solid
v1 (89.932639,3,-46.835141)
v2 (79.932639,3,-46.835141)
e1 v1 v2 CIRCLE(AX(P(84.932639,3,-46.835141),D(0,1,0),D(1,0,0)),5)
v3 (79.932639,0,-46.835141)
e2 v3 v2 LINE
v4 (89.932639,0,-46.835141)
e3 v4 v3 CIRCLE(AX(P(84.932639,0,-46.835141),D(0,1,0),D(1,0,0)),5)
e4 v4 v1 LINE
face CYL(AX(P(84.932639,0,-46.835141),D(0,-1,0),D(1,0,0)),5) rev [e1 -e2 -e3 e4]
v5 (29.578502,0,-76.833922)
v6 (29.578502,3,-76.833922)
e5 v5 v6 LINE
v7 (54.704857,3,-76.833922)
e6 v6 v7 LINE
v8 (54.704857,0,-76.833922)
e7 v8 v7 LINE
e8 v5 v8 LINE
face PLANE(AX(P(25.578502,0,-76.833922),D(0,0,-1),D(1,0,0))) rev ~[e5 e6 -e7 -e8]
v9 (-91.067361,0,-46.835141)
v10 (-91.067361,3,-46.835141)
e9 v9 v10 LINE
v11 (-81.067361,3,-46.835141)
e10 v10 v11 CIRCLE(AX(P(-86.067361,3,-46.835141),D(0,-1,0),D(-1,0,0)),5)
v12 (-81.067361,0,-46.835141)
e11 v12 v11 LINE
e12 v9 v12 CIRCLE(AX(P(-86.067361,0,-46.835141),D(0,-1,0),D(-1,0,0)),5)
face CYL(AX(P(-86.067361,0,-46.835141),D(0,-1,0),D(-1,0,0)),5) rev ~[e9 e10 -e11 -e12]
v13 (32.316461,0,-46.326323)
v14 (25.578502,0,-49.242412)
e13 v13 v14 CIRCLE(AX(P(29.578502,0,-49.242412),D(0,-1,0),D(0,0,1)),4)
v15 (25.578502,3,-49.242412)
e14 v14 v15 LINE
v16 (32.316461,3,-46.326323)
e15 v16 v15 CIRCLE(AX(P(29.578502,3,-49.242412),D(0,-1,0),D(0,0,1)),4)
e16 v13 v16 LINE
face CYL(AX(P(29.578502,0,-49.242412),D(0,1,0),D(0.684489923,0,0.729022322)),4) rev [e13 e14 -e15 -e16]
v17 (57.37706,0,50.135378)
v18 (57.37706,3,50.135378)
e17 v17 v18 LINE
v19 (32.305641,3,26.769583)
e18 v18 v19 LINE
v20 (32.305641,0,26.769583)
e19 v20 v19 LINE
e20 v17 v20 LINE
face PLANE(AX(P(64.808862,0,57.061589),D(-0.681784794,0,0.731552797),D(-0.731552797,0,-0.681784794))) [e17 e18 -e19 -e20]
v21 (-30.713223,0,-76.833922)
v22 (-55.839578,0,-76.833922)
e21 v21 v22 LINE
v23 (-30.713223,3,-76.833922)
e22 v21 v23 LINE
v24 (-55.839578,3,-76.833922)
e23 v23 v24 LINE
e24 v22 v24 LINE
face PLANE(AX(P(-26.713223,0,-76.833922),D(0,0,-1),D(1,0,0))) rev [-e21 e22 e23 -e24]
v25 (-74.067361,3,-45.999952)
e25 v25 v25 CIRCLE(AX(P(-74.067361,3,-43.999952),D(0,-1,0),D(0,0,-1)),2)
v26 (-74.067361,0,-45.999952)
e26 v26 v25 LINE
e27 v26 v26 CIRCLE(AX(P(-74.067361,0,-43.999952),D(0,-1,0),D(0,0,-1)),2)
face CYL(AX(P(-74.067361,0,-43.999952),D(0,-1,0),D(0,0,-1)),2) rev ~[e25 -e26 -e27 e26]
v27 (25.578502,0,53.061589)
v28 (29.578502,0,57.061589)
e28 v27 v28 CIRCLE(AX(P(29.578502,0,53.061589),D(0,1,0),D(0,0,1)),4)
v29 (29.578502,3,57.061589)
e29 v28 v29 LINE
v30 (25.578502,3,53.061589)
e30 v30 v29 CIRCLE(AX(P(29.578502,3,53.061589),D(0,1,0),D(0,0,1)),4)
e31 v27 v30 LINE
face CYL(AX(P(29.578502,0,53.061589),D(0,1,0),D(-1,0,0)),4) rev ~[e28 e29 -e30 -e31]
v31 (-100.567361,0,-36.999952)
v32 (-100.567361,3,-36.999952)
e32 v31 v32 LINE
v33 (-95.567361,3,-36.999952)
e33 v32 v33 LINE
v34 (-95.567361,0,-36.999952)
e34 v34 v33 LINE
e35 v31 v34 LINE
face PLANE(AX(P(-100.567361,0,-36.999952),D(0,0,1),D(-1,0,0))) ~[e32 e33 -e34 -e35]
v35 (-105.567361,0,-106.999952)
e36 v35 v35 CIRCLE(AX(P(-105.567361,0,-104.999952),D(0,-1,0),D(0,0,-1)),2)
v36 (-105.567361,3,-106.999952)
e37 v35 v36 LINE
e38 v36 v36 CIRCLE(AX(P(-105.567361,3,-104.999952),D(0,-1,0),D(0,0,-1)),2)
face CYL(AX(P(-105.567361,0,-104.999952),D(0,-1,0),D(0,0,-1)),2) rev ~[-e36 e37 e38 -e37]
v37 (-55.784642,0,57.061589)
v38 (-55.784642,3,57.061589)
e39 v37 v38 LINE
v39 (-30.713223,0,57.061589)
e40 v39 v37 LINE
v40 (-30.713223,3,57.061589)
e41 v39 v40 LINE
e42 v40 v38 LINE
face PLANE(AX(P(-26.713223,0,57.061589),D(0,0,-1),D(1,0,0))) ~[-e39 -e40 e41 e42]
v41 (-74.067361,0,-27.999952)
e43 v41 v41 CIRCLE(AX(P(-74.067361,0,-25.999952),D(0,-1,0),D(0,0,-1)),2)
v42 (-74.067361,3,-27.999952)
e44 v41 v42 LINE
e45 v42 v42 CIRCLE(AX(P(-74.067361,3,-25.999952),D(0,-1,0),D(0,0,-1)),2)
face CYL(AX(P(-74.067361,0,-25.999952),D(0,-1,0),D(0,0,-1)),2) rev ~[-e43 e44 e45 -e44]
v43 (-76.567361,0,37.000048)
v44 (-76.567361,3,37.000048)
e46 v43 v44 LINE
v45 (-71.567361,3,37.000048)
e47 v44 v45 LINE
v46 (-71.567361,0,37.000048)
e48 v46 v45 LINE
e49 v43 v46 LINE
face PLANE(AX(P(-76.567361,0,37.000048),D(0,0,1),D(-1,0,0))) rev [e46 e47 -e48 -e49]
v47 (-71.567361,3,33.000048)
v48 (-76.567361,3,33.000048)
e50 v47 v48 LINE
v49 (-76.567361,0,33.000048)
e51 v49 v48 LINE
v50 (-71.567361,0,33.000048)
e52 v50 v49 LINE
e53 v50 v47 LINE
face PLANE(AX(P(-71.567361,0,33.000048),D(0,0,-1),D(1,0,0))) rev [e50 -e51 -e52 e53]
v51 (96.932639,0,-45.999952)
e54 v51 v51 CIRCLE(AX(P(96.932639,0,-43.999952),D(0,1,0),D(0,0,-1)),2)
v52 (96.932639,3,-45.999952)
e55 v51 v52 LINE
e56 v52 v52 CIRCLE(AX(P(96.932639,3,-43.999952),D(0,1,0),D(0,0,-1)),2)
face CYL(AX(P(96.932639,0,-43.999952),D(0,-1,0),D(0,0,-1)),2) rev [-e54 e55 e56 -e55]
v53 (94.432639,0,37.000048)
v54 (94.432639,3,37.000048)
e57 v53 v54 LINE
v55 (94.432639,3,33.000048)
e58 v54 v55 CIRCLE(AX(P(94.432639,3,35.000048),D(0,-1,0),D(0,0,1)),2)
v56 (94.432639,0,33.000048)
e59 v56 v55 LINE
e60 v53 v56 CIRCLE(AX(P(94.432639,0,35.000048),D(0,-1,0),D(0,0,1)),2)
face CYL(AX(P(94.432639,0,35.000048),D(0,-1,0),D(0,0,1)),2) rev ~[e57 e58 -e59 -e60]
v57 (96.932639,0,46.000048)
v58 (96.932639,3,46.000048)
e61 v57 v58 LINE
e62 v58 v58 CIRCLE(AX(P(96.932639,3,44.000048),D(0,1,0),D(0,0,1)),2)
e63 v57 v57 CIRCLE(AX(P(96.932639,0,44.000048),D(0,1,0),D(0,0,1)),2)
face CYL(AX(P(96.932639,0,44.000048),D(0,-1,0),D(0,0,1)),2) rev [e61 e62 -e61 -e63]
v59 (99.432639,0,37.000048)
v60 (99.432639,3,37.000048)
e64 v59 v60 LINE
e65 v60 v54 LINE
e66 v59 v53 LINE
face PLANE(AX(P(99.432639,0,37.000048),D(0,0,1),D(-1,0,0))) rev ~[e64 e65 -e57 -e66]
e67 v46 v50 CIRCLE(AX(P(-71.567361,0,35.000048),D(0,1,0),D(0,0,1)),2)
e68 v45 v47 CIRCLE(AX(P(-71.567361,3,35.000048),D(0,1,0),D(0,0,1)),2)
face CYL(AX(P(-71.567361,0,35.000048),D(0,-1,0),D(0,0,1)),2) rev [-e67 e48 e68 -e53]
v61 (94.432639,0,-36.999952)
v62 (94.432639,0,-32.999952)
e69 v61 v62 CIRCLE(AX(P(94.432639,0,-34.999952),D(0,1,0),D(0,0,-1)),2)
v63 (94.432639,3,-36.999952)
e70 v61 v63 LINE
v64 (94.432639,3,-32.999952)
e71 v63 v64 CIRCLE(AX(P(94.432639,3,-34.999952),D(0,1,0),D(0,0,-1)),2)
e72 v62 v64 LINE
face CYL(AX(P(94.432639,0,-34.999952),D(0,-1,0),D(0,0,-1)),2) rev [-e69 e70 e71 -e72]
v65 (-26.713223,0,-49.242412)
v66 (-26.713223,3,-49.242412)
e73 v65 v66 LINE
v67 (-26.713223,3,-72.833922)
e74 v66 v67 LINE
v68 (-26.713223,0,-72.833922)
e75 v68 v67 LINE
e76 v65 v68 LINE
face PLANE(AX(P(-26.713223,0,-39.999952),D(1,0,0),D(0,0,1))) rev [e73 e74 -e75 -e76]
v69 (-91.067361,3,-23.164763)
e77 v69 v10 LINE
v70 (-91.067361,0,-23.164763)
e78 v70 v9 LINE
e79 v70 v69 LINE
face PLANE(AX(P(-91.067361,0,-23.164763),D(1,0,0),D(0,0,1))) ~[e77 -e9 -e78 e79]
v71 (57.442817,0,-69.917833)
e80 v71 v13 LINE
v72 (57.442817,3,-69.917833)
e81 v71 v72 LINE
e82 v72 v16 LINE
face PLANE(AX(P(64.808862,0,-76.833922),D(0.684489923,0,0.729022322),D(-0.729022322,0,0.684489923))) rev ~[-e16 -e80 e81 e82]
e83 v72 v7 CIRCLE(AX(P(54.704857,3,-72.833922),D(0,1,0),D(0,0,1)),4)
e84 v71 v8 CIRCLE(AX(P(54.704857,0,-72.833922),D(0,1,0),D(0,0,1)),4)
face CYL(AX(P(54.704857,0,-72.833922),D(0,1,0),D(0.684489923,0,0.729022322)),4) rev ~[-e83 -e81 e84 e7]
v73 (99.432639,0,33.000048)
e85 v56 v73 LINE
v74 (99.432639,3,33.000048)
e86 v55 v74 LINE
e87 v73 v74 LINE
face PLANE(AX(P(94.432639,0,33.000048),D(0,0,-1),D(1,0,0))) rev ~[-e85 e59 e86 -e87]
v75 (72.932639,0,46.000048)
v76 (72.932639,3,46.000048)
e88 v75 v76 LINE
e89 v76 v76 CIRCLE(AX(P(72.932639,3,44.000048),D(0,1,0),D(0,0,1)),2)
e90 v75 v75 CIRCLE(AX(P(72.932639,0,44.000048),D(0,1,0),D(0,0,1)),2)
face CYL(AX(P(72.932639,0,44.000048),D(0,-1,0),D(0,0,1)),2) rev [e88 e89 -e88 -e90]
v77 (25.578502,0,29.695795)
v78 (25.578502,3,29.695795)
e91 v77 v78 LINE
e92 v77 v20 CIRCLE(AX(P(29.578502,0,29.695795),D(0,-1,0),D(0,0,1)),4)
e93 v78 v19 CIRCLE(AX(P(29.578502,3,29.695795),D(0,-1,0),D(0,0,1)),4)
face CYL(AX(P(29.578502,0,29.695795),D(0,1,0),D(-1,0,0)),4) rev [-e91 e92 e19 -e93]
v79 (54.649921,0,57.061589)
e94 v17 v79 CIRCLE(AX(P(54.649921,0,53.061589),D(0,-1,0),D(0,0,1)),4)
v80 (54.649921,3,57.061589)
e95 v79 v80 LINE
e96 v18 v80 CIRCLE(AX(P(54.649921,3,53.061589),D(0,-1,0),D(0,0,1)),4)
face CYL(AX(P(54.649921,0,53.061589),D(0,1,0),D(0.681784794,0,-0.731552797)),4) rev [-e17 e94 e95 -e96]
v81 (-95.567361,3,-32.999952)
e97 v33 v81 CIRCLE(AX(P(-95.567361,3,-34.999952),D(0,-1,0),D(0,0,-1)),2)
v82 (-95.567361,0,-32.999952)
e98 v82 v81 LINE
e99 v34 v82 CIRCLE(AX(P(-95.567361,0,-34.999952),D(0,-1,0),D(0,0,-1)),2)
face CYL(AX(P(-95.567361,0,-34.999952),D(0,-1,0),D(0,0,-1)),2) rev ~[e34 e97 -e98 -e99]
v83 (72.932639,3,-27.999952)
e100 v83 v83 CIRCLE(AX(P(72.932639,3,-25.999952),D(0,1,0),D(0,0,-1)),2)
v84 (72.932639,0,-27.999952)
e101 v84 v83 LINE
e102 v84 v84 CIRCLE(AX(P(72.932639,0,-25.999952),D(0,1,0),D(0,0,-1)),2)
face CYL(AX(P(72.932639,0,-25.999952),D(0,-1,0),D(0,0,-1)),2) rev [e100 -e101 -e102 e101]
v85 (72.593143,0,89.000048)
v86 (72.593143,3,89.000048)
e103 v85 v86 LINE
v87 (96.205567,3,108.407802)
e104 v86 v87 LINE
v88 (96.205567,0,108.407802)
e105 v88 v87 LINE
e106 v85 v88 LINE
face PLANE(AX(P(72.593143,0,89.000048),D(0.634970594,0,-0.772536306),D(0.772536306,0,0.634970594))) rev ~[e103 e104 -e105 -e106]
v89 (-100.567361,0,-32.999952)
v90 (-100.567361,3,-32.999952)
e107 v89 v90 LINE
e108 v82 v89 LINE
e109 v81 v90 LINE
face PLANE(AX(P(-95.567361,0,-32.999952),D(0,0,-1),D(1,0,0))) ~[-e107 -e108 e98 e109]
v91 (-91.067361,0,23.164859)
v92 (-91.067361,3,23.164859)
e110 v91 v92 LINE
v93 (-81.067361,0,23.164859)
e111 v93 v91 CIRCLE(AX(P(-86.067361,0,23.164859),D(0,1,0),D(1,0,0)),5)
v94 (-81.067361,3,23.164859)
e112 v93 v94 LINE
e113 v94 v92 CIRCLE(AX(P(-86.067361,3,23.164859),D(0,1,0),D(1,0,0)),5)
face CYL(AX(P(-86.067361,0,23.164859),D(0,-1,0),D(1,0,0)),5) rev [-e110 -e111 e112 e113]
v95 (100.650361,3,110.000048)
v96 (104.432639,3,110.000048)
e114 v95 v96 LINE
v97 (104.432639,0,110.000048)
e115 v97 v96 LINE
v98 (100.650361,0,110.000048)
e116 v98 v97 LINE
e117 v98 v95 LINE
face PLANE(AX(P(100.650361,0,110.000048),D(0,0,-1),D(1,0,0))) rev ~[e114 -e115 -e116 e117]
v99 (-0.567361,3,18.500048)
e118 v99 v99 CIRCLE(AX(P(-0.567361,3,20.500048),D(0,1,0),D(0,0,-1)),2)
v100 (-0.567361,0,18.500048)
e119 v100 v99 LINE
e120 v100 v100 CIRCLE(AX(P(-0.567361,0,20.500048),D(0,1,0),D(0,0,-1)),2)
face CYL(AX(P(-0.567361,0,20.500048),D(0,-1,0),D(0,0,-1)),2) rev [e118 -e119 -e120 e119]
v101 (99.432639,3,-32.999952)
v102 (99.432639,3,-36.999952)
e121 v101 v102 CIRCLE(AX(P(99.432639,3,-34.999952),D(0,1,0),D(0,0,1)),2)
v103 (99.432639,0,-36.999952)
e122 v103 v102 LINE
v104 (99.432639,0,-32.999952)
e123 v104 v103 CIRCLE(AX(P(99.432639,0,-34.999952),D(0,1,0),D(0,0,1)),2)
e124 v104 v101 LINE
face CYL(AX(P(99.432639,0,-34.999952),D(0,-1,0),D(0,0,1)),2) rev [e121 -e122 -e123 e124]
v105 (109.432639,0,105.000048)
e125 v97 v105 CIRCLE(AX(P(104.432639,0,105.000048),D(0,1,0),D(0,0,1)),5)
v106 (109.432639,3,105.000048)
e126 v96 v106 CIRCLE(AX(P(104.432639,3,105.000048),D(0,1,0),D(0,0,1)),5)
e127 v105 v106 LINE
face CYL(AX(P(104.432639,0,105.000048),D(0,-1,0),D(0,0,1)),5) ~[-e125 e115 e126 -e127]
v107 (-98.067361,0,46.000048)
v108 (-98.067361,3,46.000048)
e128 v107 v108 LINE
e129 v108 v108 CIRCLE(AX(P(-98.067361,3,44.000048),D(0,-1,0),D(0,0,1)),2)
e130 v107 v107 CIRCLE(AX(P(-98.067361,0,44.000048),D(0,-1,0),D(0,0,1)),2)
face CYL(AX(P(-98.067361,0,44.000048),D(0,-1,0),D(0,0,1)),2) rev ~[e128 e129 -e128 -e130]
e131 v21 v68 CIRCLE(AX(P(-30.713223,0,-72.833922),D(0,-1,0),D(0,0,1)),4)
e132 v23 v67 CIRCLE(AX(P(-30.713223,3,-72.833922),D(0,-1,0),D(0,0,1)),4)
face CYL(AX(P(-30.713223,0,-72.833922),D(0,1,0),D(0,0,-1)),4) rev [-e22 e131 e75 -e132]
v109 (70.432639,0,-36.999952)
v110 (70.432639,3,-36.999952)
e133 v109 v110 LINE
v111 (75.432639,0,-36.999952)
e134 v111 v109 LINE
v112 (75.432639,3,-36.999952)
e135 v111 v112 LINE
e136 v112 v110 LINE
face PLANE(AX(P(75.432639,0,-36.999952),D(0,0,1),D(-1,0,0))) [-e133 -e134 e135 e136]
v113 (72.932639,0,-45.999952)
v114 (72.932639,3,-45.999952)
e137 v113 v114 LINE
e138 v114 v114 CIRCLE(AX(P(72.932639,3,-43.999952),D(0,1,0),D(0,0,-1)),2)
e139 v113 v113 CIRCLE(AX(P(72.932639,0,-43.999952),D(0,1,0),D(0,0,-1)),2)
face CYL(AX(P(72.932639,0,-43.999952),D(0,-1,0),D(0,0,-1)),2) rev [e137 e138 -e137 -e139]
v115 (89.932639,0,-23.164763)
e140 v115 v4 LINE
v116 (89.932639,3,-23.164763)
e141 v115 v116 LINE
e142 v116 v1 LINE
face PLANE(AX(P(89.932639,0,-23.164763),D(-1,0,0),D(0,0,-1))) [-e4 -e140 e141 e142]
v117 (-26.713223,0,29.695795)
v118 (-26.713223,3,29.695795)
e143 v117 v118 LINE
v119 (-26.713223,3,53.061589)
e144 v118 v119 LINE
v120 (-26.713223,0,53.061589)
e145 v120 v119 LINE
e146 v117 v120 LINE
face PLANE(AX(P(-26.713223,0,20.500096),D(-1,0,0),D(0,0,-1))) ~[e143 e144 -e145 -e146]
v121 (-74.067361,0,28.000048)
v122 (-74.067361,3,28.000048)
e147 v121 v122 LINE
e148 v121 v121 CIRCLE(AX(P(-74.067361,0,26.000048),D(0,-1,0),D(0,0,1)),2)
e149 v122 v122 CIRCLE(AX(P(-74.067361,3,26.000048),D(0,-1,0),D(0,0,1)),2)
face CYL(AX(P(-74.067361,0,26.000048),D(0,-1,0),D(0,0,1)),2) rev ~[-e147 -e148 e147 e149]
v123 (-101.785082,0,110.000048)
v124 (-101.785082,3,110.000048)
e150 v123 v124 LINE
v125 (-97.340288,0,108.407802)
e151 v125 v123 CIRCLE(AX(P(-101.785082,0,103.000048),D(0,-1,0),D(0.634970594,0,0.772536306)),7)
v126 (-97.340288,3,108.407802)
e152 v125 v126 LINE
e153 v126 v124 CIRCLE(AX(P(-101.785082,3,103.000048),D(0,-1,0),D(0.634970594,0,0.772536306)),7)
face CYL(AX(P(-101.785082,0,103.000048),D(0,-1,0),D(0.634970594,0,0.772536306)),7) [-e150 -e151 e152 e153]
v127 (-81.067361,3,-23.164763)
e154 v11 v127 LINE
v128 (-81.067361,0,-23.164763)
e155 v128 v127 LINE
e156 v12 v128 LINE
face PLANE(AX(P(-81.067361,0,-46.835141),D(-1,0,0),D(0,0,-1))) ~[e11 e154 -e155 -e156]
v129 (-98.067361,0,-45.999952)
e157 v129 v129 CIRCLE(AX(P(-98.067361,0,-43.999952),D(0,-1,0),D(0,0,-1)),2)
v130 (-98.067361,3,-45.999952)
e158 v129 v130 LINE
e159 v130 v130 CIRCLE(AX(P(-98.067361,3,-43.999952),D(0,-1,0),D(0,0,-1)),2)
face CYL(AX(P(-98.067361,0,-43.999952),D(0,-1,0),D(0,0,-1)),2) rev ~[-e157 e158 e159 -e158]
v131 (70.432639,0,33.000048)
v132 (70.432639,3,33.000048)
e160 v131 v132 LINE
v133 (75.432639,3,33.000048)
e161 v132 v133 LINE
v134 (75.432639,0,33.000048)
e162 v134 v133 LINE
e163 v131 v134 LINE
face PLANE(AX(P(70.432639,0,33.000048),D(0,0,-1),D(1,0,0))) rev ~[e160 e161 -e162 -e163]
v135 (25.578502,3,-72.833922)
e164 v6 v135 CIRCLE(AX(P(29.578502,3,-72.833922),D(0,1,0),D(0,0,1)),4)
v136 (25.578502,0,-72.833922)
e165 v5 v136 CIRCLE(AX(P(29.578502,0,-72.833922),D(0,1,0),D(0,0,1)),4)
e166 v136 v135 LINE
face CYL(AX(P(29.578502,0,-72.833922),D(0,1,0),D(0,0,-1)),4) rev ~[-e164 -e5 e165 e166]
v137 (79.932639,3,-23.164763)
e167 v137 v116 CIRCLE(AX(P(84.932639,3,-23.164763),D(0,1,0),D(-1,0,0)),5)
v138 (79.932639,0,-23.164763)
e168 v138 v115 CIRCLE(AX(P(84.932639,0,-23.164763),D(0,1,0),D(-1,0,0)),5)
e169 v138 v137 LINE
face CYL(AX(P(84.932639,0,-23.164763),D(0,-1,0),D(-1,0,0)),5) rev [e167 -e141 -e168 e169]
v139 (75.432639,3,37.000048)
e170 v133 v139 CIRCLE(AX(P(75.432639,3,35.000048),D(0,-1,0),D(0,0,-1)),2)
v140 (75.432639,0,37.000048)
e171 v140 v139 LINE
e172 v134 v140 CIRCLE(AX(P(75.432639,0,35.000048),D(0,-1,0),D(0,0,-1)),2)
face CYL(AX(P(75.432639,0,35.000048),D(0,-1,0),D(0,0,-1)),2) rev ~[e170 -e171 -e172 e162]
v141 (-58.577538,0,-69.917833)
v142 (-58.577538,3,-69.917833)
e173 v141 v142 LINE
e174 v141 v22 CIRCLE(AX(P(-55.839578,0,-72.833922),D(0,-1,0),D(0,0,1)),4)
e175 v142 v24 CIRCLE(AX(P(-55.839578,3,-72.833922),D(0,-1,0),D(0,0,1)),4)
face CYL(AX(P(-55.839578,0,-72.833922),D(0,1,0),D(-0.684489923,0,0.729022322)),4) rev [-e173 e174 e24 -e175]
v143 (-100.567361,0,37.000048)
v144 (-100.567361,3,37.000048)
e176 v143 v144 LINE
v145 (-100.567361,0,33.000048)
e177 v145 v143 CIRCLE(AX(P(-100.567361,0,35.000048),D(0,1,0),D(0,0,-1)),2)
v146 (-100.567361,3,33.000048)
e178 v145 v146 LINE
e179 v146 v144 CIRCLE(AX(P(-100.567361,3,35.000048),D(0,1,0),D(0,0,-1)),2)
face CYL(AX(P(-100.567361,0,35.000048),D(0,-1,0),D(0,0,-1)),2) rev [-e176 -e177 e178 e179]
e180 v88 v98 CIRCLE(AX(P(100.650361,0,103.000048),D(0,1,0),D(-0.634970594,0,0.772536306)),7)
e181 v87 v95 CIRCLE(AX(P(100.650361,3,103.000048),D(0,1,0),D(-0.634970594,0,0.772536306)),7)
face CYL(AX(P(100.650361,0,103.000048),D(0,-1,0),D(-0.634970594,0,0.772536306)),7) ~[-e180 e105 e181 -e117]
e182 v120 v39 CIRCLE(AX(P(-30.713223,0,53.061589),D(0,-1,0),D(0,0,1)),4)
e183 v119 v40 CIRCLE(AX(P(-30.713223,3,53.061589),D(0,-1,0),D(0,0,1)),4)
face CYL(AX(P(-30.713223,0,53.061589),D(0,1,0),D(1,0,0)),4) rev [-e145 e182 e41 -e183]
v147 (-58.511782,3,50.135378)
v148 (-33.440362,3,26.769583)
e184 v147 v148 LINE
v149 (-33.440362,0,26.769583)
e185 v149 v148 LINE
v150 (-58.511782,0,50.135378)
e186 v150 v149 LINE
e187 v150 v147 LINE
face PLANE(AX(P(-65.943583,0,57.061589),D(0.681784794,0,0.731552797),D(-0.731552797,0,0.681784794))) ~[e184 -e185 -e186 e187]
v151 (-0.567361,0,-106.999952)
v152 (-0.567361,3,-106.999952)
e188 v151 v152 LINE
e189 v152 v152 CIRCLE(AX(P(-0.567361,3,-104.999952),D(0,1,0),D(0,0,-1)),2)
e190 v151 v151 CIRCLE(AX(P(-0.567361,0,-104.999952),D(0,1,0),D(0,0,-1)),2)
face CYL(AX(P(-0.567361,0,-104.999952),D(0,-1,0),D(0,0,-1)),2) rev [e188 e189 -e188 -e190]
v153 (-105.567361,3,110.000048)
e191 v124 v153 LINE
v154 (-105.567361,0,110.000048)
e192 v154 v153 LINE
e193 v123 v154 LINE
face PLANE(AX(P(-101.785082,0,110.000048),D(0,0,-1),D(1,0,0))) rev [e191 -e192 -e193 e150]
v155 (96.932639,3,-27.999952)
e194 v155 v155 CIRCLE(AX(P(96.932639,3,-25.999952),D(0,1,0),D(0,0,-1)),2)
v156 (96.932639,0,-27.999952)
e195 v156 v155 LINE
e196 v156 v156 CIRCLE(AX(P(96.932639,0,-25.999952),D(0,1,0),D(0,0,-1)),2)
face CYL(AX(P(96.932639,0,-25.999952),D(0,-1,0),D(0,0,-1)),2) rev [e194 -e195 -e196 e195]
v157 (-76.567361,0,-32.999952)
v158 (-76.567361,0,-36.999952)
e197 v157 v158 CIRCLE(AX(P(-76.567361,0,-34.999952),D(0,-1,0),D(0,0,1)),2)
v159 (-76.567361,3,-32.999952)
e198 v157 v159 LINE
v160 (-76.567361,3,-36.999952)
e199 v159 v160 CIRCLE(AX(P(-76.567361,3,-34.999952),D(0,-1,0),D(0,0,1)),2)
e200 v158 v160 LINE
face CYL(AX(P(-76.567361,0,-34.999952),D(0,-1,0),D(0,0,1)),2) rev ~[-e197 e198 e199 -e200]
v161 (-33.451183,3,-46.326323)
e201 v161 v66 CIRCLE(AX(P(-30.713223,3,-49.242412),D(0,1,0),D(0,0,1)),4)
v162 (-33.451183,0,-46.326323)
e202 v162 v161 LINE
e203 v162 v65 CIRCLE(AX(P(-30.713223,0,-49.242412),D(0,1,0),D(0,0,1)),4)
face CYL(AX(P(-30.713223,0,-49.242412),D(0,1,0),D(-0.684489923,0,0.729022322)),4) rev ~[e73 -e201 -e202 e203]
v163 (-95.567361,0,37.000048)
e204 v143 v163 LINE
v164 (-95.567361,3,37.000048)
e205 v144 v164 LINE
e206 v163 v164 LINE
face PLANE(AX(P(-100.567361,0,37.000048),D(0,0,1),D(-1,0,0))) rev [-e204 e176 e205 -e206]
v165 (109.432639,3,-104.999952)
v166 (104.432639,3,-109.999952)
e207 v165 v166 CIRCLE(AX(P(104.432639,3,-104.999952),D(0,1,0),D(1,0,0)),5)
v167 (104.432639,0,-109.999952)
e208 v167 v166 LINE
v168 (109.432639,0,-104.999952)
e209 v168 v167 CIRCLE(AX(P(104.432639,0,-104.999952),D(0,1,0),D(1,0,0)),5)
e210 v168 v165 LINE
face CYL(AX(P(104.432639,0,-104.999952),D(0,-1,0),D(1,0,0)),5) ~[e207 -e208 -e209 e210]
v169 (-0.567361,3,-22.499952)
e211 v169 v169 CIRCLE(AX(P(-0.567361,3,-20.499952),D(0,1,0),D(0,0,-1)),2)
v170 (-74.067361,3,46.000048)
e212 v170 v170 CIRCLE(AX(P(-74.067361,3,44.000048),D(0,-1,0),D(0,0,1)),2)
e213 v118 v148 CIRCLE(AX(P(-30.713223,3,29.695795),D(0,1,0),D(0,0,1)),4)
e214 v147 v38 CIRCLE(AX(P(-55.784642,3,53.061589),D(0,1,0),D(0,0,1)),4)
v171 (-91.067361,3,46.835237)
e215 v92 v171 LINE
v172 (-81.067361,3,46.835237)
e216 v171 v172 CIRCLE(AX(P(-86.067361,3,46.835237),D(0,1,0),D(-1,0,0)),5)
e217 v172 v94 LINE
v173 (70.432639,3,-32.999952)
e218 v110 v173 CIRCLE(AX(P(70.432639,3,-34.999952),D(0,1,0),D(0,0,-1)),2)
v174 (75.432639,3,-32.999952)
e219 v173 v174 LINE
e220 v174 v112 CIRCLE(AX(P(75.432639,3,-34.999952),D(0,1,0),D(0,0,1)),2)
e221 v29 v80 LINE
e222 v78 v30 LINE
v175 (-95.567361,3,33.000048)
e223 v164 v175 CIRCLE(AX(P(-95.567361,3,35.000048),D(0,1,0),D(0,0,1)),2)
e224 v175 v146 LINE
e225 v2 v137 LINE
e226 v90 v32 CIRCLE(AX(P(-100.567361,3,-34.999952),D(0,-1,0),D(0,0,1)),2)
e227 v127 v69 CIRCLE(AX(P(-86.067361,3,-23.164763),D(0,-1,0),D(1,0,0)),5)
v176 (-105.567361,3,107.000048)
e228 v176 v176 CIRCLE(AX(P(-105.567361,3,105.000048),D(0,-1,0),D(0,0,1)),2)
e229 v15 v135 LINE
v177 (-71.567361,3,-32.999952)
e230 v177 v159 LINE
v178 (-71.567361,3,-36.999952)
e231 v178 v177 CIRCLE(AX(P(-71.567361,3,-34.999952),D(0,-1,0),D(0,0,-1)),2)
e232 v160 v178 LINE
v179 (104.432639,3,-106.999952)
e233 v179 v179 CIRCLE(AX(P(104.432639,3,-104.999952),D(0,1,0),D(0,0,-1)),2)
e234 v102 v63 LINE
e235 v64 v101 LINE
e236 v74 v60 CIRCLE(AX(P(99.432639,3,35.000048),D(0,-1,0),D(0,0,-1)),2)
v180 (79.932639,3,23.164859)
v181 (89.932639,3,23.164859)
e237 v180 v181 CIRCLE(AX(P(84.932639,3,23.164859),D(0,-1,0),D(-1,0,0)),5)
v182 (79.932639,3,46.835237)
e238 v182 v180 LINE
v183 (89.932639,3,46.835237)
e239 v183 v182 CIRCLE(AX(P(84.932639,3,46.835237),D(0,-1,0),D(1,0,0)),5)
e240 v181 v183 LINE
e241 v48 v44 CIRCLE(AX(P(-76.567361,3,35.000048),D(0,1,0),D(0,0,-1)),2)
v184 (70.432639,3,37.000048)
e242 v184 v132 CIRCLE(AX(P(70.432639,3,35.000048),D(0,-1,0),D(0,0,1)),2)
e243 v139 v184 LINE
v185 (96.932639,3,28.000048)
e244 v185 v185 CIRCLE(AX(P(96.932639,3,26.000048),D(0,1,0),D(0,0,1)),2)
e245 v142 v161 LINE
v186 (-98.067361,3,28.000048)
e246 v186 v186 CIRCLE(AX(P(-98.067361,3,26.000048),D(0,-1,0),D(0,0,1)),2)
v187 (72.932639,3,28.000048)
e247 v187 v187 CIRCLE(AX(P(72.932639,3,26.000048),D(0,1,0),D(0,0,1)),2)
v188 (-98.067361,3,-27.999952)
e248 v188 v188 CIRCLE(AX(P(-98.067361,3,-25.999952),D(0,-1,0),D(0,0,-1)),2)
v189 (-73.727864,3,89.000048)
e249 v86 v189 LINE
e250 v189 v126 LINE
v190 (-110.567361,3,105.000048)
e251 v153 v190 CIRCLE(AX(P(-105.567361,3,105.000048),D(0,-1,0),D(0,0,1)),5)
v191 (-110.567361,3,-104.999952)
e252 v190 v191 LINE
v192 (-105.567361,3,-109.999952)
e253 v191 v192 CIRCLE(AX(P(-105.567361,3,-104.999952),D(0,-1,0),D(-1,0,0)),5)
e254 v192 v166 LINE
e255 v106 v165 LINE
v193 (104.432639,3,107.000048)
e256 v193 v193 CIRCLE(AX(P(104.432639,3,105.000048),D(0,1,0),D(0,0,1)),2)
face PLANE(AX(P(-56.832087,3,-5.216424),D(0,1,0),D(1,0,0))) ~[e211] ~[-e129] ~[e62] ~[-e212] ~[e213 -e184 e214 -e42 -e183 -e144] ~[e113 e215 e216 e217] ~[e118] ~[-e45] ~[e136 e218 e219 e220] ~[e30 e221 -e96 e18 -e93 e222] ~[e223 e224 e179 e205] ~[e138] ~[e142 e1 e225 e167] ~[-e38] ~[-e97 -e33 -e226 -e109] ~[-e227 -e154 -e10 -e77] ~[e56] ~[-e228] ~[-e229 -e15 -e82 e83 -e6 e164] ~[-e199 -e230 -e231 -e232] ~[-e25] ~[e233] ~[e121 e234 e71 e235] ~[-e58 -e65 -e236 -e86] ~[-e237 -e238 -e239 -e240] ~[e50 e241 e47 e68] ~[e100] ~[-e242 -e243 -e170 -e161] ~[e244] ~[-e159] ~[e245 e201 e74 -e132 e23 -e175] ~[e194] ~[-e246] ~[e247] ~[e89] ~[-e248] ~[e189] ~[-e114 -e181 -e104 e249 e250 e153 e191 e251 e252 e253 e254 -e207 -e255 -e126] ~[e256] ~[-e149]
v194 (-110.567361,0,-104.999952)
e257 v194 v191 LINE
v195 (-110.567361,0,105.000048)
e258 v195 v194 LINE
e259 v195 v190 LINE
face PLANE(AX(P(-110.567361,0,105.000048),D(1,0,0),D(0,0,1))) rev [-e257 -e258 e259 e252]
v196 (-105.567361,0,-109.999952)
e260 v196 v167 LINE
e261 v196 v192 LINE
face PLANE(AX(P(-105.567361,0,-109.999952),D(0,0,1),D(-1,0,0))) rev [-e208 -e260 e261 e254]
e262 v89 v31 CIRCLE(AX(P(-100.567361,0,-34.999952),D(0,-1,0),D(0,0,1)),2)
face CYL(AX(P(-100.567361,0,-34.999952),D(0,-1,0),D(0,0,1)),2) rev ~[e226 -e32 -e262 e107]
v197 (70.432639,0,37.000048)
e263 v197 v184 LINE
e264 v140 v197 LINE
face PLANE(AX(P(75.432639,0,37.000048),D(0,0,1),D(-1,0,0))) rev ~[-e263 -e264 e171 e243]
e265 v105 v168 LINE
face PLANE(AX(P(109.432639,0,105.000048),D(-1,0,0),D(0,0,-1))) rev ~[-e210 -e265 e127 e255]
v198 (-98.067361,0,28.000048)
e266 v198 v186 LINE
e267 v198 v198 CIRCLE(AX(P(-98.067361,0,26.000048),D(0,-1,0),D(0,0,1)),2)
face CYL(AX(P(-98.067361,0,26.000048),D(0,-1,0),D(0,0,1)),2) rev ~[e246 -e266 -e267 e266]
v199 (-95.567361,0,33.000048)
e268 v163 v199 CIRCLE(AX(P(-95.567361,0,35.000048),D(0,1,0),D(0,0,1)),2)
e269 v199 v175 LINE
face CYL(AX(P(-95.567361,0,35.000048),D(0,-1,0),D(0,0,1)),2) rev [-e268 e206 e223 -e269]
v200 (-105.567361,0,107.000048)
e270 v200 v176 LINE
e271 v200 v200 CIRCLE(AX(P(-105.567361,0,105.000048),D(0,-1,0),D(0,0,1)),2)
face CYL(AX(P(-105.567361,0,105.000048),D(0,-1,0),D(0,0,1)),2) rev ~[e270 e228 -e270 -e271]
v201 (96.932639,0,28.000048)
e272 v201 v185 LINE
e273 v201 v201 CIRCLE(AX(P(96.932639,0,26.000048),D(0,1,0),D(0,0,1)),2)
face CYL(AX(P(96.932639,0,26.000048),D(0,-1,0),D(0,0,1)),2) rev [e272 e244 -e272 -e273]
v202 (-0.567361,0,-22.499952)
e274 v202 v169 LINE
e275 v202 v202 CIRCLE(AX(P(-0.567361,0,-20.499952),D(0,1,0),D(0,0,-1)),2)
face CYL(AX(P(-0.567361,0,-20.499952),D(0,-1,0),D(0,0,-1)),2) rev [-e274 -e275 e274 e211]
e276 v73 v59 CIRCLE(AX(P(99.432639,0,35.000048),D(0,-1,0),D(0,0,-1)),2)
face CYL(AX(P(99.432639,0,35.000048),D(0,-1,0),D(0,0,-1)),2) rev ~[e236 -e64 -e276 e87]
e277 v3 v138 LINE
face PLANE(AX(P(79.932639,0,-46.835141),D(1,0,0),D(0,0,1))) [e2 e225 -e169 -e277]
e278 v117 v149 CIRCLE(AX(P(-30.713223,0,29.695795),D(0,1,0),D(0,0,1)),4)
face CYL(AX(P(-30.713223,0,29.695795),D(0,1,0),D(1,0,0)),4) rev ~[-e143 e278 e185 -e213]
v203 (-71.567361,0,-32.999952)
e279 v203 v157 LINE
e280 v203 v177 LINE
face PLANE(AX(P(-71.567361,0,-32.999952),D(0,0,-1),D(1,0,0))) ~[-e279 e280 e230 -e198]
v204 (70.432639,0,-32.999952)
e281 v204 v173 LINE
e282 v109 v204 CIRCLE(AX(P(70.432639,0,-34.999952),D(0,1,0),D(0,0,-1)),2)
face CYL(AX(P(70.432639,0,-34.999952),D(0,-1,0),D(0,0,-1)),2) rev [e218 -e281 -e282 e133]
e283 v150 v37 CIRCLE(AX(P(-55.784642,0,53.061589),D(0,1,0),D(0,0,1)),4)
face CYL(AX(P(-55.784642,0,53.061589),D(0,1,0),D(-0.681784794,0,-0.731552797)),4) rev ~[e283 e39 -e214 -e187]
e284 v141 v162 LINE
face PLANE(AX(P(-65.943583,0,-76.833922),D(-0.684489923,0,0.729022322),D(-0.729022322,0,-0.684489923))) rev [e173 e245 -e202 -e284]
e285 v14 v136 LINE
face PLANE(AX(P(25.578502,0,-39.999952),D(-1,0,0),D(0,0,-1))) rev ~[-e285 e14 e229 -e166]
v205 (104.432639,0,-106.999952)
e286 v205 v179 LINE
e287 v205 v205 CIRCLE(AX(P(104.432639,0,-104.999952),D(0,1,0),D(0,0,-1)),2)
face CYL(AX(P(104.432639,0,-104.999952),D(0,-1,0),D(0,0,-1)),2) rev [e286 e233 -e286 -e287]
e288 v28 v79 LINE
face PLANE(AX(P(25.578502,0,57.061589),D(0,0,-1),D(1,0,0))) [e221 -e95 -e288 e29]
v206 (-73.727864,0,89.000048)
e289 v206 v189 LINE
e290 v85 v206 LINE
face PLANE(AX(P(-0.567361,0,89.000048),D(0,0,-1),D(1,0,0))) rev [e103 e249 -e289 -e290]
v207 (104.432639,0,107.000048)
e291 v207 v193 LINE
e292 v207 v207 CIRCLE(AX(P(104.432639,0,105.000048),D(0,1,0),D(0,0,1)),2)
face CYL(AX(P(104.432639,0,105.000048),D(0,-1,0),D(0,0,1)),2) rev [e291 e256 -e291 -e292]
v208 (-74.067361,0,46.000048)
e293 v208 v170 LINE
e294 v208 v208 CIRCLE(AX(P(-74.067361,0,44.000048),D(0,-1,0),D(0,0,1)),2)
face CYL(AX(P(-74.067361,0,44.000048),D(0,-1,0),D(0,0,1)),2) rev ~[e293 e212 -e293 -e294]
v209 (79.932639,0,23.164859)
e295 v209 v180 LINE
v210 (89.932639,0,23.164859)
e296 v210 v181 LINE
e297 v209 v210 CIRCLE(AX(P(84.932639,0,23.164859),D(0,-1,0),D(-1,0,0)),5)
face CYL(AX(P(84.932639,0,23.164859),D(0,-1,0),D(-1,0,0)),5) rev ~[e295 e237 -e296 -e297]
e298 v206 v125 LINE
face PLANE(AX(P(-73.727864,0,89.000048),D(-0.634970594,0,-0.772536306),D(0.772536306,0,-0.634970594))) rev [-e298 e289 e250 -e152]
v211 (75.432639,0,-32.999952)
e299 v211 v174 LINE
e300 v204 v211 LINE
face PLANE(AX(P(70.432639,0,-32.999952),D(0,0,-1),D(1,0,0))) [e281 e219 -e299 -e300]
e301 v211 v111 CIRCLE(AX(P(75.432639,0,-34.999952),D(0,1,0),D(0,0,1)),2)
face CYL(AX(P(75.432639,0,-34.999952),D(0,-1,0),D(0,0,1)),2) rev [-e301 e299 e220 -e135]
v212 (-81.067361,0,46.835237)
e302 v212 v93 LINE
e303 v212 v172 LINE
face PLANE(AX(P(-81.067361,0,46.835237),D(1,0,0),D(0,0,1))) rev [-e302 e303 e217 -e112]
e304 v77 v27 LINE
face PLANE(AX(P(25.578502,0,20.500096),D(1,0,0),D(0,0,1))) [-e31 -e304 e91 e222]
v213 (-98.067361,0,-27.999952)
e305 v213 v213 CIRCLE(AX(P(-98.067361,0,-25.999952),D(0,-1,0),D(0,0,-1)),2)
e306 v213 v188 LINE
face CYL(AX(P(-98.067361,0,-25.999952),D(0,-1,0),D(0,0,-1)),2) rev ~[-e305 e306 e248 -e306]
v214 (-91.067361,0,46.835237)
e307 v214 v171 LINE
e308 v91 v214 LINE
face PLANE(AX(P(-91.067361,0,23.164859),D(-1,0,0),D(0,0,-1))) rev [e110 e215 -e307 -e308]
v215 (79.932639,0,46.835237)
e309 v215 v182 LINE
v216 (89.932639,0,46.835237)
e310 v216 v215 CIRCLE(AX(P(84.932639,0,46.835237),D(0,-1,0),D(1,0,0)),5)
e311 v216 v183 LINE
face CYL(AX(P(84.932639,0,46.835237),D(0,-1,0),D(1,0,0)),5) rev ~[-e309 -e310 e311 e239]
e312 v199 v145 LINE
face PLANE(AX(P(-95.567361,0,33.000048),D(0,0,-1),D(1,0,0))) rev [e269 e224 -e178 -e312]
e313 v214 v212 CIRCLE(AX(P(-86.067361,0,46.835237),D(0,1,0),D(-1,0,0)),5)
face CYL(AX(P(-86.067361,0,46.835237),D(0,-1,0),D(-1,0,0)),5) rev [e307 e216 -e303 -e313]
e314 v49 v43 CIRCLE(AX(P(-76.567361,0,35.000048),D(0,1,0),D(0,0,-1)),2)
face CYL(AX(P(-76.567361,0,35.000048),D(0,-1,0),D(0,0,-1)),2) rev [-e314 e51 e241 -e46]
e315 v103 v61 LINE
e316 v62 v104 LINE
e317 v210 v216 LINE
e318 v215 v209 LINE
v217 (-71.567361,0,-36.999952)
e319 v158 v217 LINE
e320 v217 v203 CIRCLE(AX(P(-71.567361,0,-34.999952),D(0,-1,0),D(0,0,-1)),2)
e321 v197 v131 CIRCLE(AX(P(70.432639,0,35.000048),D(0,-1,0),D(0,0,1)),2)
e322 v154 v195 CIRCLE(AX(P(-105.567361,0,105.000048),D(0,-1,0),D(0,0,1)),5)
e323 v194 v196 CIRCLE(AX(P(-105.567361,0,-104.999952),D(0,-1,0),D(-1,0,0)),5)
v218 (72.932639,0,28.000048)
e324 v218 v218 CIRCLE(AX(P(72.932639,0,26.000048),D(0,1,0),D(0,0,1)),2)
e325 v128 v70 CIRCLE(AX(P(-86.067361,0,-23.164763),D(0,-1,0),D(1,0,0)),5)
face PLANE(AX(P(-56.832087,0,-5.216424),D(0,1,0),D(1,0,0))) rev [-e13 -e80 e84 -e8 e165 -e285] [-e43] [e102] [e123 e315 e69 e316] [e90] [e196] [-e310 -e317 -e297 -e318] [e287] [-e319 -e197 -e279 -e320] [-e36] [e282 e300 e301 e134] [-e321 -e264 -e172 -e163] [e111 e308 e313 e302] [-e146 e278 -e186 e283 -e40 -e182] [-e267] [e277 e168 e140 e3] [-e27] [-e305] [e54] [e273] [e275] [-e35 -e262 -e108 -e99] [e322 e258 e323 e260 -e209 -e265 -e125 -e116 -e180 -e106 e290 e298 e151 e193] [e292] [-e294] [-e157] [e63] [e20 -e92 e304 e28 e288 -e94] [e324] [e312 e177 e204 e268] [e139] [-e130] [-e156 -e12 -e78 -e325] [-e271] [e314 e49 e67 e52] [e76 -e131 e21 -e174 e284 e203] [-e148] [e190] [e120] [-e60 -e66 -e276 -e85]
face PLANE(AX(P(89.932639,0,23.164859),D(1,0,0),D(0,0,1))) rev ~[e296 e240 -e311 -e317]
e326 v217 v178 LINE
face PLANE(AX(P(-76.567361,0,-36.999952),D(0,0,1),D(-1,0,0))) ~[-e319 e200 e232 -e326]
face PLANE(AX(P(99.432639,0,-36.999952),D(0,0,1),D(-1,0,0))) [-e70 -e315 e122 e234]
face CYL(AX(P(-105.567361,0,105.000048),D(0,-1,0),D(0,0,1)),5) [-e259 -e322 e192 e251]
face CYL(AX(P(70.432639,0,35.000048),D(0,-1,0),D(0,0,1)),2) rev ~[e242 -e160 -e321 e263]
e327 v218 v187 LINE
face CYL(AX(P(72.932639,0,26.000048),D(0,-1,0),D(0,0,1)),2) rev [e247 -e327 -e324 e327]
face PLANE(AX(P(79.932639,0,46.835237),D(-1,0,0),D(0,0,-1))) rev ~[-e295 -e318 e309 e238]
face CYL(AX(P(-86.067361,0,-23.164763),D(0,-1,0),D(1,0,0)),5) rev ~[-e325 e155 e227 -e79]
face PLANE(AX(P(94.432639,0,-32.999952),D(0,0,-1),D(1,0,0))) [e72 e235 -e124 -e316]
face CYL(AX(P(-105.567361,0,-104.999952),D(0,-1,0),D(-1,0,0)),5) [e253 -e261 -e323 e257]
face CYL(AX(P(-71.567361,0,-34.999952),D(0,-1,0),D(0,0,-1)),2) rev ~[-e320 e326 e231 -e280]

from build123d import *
from build123d.topology import SkipClean

# Parameters (mm, degrees)
SKETCH1_R            = 2
BOSS_EXTRUDE2_DEPTH  = 3
FILLET1_R            = 4
FILLET1_OF_MIRROR1_R = 4


with BuildPart() as part:
    # Sketch1 → Boss-Extrude2 (new body)
    with BuildSketch(Plane(origin=(0, 0, 0), x_dir=(1, 0, 0), z_dir=(0, 1, 0))):
        with BuildLine():
            Line((-0.567360549, 109.999952103), (-0.567360549, 106.999952103))
            ThreePointArc((-0.567360549, 106.999952103), (1.432639451, 104.999952103), (-0.567360549, 102.999952103))
            Line((-0.567360549, 102.999952103), (-0.567360549, 22.499952103))
            ThreePointArc((-0.567360549, 22.499952103), (1.432639451, 20.499952103), (-0.567360549, 18.499952103))
            Line((-0.567360549, 18.499952103), (-0.567360549, -18.500047897))
            ThreePointArc((-0.567360549, -18.500047897), (1.432639451, -20.500047897), (-0.567360549, -22.500047897))
            Line((-0.567360549, -22.500047897), (-0.567360549, -89.000047897))
            Line((-0.567360549, -89.000047897), (72.593143282, -89.000047897))
            Line((72.593143282, -89.000047897), (96.205566979, -108.407802041))
            ThreePointArc((96.205566979, -108.407802041), (98.289670456, -109.589975021), (100.650361138, -110.000047897))
            Line((100.650361138, -110.000047897), (104.432639451, -110.000047897))
            ThreePointArc((104.432639451, -110.000047897), (107.968173357, -108.535581803), (109.432639451, -105.000047897))
            Line((109.432639451, -105.000047897), (109.432639451, -4.7897e-05))
            Line((109.432639451, -4.7897e-05), (109.432639451, 104.999952103))
            ThreePointArc((109.432639451, 104.999952103), (107.968173357, 108.535486009), (104.432639451, 109.999952103))
            Line((104.432639451, 109.999952103), (-0.567360549, 109.999952103))
        make_face()
        with Locations(Location((104.432639451, 104.999952103, 0), (0, 0, 90))):
            Circle(SKETCH1_R, mode=Mode.SUBTRACT)
        with Locations(Location((104.432639451, -105.000047897, 0), (0, 0, 270))):
            Circle(SKETCH1_R, mode=Mode.SUBTRACT)
        with Locations(Location((96.932639451, 25.999952103, 0), (0, 0, 90))):
            Circle(SKETCH1_R, mode=Mode.SUBTRACT)
        with Locations(Location((72.932639451, 25.999952103, 0), (0, 0, 90))):
            Circle(SKETCH1_R, mode=Mode.SUBTRACT)
        with Locations(Location((72.932639451, 43.999952103, 0), (0, 0, 90))):
            Circle(SKETCH1_R, mode=Mode.SUBTRACT)
        with Locations(Location((96.932639451, -44.000047897, 0), (0, 0, 270))):
            Circle(SKETCH1_R, mode=Mode.SUBTRACT)
        with Locations(Location((72.932639451, -44.000047897, 0), (0, 0, 270))):
            Circle(SKETCH1_R, mode=Mode.SUBTRACT)
        with Locations(Location((72.932639451, -26.000047897, 0), (0, 0, 270))):
            Circle(SKETCH1_R, mode=Mode.SUBTRACT)
        with Locations(Location((96.932639451, -26.000047897, 0), (0, 0, 270))):
            Circle(SKETCH1_R, mode=Mode.SUBTRACT)
        with Locations(Location((96.932639451, 43.999952103, 0), (0, 0, 90))):
            Circle(SKETCH1_R, mode=Mode.SUBTRACT)
        Polygon((25.578501747, 39.999952103), (25.578501747, 76.833921846), (64.808861855, 76.833921846), align=None, mode=Mode.SUBTRACT)
        Polygon((25.578501747, -20.500095793), (25.578501747, -57.061589457), (64.808861855, -57.061589457), align=None, mode=Mode.SUBTRACT)
        with BuildLine():
            Line((89.932639451, -23.164859069), (89.932639451, -46.835236724))
            ThreePointArc((89.932639451, -46.835236724), (84.932639451, -51.835236724), (79.932639451, -46.835236724))
            Line((79.932639451, -46.835236724), (79.932639451, -23.164859069))
            ThreePointArc((79.932639451, -23.164859069), (84.932639451, -18.164859069), (89.932639451, -23.164859069))
        make_face(mode=Mode.SUBTRACT)
        with BuildLine():
            Line((70.432639451, -33.000047897), (75.432639451, -33.000047897))
            ThreePointArc((75.432639451, -33.000047897), (77.432639451, -35.000047897), (75.432639451, -37.000047897))
            Line((75.432639451, -37.000047897), (70.432639451, -37.000047897))
            ThreePointArc((70.432639451, -37.000047897), (68.432639451, -35.000047897), (70.432639451, -33.000047897))
        make_face(mode=Mode.SUBTRACT)
        with BuildLine():
            Line((94.432639451, -33.000047897), (99.432639451, -33.000047897))
            ThreePointArc((99.432639451, -33.000047897), (101.432639451, -35.000047897), (99.432639451, -37.000047897))
            Line((99.432639451, -37.000047897), (94.432639451, -37.000047897))
            ThreePointArc((94.432639451, -37.000047897), (92.432639451, -35.000047897), (94.432639451, -33.000047897))
        make_face(mode=Mode.SUBTRACT)
        with BuildLine():
            Line((89.932639451, 23.164763276), (89.932639451, 46.835140931))
            ThreePointArc((89.932639451, 46.835140931), (84.932639451, 51.835140931), (79.932639451, 46.835140931))
            Line((79.932639451, 46.835140931), (79.932639451, 23.164763276))
            ThreePointArc((79.932639451, 23.164763276), (84.932639451, 18.164763276), (89.932639451, 23.164763276))
        make_face(mode=Mode.SUBTRACT)
        with BuildLine():
            Line((70.432639451, 32.999952103), (75.432639451, 32.999952103))
            ThreePointArc((75.432639451, 32.999952103), (77.432639451, 34.999952103), (75.432639451, 36.999952103))
            Line((75.432639451, 36.999952103), (70.432639451, 36.999952103))
            ThreePointArc((70.432639451, 36.999952103), (68.432639451, 34.999952103), (70.432639451, 32.999952103))
        make_face(mode=Mode.SUBTRACT)
        with BuildLine():
            Line((94.432639451, 32.999952103), (99.432639451, 32.999952103))
            ThreePointArc((99.432639451, 32.999952103), (101.432639451, 34.999952103), (99.432639451, 36.999952103))
            Line((99.432639451, 36.999952103), (94.432639451, 36.999952103))
            ThreePointArc((94.432639451, 36.999952103), (92.432639451, 34.999952103), (94.432639451, 32.999952103))
        make_face(mode=Mode.SUBTRACT)
    boss_extrude2 = extrude(amount=BOSS_EXTRUDE2_DEPTH)

    # Fillet1
    fillet1_edges = [part.edges().sort_by_distance(p)[0] for p in [
        (25.578501747, 1.5, -39.999952103),
        (64.808861855, 1.5, -76.833921846),
        (25.578501747, 1.5, -76.833921846),
        (64.808861855, 1.5, 57.061589457),
        (25.578501747, 1.5, 20.500095793),
        (25.578501747, 1.5, 57.061589457),
    ]]
    fillet(fillet1_edges, radius=FILLET1_R)

    # Mirror1: Boss-Extrude2 across plane
    with SkipClean():  # the faces are left unmerged after this step: merging them gives an invalid solid
        add(boss_extrude2.mirror(Plane(origin=(-0.567360549, 3, -102.999952103), x_dir=(0, 0, 1), z_dir=(1, 0, 0))))

    # Fillet1 of Mirror1
    fillet1_of_mirror1_edges = [part.edges().sort_by_distance(p)[0] for p in [
        (-26.713222844, 1.5, -39.999952103),
        (-65.943582953, 1.5, -76.833921846),
        (-26.713222844, 1.5, -76.833921846),
        (-65.943582953, 1.5, 57.061589457),
        (-26.713222844, 1.5, 20.500095793),
        (-26.713222844, 1.5, 57.061589457),
    ]]
    fillet(fillet1_of_mirror1_edges, radius=FILLET1_OF_MIRROR1_R)


solid = part.part
